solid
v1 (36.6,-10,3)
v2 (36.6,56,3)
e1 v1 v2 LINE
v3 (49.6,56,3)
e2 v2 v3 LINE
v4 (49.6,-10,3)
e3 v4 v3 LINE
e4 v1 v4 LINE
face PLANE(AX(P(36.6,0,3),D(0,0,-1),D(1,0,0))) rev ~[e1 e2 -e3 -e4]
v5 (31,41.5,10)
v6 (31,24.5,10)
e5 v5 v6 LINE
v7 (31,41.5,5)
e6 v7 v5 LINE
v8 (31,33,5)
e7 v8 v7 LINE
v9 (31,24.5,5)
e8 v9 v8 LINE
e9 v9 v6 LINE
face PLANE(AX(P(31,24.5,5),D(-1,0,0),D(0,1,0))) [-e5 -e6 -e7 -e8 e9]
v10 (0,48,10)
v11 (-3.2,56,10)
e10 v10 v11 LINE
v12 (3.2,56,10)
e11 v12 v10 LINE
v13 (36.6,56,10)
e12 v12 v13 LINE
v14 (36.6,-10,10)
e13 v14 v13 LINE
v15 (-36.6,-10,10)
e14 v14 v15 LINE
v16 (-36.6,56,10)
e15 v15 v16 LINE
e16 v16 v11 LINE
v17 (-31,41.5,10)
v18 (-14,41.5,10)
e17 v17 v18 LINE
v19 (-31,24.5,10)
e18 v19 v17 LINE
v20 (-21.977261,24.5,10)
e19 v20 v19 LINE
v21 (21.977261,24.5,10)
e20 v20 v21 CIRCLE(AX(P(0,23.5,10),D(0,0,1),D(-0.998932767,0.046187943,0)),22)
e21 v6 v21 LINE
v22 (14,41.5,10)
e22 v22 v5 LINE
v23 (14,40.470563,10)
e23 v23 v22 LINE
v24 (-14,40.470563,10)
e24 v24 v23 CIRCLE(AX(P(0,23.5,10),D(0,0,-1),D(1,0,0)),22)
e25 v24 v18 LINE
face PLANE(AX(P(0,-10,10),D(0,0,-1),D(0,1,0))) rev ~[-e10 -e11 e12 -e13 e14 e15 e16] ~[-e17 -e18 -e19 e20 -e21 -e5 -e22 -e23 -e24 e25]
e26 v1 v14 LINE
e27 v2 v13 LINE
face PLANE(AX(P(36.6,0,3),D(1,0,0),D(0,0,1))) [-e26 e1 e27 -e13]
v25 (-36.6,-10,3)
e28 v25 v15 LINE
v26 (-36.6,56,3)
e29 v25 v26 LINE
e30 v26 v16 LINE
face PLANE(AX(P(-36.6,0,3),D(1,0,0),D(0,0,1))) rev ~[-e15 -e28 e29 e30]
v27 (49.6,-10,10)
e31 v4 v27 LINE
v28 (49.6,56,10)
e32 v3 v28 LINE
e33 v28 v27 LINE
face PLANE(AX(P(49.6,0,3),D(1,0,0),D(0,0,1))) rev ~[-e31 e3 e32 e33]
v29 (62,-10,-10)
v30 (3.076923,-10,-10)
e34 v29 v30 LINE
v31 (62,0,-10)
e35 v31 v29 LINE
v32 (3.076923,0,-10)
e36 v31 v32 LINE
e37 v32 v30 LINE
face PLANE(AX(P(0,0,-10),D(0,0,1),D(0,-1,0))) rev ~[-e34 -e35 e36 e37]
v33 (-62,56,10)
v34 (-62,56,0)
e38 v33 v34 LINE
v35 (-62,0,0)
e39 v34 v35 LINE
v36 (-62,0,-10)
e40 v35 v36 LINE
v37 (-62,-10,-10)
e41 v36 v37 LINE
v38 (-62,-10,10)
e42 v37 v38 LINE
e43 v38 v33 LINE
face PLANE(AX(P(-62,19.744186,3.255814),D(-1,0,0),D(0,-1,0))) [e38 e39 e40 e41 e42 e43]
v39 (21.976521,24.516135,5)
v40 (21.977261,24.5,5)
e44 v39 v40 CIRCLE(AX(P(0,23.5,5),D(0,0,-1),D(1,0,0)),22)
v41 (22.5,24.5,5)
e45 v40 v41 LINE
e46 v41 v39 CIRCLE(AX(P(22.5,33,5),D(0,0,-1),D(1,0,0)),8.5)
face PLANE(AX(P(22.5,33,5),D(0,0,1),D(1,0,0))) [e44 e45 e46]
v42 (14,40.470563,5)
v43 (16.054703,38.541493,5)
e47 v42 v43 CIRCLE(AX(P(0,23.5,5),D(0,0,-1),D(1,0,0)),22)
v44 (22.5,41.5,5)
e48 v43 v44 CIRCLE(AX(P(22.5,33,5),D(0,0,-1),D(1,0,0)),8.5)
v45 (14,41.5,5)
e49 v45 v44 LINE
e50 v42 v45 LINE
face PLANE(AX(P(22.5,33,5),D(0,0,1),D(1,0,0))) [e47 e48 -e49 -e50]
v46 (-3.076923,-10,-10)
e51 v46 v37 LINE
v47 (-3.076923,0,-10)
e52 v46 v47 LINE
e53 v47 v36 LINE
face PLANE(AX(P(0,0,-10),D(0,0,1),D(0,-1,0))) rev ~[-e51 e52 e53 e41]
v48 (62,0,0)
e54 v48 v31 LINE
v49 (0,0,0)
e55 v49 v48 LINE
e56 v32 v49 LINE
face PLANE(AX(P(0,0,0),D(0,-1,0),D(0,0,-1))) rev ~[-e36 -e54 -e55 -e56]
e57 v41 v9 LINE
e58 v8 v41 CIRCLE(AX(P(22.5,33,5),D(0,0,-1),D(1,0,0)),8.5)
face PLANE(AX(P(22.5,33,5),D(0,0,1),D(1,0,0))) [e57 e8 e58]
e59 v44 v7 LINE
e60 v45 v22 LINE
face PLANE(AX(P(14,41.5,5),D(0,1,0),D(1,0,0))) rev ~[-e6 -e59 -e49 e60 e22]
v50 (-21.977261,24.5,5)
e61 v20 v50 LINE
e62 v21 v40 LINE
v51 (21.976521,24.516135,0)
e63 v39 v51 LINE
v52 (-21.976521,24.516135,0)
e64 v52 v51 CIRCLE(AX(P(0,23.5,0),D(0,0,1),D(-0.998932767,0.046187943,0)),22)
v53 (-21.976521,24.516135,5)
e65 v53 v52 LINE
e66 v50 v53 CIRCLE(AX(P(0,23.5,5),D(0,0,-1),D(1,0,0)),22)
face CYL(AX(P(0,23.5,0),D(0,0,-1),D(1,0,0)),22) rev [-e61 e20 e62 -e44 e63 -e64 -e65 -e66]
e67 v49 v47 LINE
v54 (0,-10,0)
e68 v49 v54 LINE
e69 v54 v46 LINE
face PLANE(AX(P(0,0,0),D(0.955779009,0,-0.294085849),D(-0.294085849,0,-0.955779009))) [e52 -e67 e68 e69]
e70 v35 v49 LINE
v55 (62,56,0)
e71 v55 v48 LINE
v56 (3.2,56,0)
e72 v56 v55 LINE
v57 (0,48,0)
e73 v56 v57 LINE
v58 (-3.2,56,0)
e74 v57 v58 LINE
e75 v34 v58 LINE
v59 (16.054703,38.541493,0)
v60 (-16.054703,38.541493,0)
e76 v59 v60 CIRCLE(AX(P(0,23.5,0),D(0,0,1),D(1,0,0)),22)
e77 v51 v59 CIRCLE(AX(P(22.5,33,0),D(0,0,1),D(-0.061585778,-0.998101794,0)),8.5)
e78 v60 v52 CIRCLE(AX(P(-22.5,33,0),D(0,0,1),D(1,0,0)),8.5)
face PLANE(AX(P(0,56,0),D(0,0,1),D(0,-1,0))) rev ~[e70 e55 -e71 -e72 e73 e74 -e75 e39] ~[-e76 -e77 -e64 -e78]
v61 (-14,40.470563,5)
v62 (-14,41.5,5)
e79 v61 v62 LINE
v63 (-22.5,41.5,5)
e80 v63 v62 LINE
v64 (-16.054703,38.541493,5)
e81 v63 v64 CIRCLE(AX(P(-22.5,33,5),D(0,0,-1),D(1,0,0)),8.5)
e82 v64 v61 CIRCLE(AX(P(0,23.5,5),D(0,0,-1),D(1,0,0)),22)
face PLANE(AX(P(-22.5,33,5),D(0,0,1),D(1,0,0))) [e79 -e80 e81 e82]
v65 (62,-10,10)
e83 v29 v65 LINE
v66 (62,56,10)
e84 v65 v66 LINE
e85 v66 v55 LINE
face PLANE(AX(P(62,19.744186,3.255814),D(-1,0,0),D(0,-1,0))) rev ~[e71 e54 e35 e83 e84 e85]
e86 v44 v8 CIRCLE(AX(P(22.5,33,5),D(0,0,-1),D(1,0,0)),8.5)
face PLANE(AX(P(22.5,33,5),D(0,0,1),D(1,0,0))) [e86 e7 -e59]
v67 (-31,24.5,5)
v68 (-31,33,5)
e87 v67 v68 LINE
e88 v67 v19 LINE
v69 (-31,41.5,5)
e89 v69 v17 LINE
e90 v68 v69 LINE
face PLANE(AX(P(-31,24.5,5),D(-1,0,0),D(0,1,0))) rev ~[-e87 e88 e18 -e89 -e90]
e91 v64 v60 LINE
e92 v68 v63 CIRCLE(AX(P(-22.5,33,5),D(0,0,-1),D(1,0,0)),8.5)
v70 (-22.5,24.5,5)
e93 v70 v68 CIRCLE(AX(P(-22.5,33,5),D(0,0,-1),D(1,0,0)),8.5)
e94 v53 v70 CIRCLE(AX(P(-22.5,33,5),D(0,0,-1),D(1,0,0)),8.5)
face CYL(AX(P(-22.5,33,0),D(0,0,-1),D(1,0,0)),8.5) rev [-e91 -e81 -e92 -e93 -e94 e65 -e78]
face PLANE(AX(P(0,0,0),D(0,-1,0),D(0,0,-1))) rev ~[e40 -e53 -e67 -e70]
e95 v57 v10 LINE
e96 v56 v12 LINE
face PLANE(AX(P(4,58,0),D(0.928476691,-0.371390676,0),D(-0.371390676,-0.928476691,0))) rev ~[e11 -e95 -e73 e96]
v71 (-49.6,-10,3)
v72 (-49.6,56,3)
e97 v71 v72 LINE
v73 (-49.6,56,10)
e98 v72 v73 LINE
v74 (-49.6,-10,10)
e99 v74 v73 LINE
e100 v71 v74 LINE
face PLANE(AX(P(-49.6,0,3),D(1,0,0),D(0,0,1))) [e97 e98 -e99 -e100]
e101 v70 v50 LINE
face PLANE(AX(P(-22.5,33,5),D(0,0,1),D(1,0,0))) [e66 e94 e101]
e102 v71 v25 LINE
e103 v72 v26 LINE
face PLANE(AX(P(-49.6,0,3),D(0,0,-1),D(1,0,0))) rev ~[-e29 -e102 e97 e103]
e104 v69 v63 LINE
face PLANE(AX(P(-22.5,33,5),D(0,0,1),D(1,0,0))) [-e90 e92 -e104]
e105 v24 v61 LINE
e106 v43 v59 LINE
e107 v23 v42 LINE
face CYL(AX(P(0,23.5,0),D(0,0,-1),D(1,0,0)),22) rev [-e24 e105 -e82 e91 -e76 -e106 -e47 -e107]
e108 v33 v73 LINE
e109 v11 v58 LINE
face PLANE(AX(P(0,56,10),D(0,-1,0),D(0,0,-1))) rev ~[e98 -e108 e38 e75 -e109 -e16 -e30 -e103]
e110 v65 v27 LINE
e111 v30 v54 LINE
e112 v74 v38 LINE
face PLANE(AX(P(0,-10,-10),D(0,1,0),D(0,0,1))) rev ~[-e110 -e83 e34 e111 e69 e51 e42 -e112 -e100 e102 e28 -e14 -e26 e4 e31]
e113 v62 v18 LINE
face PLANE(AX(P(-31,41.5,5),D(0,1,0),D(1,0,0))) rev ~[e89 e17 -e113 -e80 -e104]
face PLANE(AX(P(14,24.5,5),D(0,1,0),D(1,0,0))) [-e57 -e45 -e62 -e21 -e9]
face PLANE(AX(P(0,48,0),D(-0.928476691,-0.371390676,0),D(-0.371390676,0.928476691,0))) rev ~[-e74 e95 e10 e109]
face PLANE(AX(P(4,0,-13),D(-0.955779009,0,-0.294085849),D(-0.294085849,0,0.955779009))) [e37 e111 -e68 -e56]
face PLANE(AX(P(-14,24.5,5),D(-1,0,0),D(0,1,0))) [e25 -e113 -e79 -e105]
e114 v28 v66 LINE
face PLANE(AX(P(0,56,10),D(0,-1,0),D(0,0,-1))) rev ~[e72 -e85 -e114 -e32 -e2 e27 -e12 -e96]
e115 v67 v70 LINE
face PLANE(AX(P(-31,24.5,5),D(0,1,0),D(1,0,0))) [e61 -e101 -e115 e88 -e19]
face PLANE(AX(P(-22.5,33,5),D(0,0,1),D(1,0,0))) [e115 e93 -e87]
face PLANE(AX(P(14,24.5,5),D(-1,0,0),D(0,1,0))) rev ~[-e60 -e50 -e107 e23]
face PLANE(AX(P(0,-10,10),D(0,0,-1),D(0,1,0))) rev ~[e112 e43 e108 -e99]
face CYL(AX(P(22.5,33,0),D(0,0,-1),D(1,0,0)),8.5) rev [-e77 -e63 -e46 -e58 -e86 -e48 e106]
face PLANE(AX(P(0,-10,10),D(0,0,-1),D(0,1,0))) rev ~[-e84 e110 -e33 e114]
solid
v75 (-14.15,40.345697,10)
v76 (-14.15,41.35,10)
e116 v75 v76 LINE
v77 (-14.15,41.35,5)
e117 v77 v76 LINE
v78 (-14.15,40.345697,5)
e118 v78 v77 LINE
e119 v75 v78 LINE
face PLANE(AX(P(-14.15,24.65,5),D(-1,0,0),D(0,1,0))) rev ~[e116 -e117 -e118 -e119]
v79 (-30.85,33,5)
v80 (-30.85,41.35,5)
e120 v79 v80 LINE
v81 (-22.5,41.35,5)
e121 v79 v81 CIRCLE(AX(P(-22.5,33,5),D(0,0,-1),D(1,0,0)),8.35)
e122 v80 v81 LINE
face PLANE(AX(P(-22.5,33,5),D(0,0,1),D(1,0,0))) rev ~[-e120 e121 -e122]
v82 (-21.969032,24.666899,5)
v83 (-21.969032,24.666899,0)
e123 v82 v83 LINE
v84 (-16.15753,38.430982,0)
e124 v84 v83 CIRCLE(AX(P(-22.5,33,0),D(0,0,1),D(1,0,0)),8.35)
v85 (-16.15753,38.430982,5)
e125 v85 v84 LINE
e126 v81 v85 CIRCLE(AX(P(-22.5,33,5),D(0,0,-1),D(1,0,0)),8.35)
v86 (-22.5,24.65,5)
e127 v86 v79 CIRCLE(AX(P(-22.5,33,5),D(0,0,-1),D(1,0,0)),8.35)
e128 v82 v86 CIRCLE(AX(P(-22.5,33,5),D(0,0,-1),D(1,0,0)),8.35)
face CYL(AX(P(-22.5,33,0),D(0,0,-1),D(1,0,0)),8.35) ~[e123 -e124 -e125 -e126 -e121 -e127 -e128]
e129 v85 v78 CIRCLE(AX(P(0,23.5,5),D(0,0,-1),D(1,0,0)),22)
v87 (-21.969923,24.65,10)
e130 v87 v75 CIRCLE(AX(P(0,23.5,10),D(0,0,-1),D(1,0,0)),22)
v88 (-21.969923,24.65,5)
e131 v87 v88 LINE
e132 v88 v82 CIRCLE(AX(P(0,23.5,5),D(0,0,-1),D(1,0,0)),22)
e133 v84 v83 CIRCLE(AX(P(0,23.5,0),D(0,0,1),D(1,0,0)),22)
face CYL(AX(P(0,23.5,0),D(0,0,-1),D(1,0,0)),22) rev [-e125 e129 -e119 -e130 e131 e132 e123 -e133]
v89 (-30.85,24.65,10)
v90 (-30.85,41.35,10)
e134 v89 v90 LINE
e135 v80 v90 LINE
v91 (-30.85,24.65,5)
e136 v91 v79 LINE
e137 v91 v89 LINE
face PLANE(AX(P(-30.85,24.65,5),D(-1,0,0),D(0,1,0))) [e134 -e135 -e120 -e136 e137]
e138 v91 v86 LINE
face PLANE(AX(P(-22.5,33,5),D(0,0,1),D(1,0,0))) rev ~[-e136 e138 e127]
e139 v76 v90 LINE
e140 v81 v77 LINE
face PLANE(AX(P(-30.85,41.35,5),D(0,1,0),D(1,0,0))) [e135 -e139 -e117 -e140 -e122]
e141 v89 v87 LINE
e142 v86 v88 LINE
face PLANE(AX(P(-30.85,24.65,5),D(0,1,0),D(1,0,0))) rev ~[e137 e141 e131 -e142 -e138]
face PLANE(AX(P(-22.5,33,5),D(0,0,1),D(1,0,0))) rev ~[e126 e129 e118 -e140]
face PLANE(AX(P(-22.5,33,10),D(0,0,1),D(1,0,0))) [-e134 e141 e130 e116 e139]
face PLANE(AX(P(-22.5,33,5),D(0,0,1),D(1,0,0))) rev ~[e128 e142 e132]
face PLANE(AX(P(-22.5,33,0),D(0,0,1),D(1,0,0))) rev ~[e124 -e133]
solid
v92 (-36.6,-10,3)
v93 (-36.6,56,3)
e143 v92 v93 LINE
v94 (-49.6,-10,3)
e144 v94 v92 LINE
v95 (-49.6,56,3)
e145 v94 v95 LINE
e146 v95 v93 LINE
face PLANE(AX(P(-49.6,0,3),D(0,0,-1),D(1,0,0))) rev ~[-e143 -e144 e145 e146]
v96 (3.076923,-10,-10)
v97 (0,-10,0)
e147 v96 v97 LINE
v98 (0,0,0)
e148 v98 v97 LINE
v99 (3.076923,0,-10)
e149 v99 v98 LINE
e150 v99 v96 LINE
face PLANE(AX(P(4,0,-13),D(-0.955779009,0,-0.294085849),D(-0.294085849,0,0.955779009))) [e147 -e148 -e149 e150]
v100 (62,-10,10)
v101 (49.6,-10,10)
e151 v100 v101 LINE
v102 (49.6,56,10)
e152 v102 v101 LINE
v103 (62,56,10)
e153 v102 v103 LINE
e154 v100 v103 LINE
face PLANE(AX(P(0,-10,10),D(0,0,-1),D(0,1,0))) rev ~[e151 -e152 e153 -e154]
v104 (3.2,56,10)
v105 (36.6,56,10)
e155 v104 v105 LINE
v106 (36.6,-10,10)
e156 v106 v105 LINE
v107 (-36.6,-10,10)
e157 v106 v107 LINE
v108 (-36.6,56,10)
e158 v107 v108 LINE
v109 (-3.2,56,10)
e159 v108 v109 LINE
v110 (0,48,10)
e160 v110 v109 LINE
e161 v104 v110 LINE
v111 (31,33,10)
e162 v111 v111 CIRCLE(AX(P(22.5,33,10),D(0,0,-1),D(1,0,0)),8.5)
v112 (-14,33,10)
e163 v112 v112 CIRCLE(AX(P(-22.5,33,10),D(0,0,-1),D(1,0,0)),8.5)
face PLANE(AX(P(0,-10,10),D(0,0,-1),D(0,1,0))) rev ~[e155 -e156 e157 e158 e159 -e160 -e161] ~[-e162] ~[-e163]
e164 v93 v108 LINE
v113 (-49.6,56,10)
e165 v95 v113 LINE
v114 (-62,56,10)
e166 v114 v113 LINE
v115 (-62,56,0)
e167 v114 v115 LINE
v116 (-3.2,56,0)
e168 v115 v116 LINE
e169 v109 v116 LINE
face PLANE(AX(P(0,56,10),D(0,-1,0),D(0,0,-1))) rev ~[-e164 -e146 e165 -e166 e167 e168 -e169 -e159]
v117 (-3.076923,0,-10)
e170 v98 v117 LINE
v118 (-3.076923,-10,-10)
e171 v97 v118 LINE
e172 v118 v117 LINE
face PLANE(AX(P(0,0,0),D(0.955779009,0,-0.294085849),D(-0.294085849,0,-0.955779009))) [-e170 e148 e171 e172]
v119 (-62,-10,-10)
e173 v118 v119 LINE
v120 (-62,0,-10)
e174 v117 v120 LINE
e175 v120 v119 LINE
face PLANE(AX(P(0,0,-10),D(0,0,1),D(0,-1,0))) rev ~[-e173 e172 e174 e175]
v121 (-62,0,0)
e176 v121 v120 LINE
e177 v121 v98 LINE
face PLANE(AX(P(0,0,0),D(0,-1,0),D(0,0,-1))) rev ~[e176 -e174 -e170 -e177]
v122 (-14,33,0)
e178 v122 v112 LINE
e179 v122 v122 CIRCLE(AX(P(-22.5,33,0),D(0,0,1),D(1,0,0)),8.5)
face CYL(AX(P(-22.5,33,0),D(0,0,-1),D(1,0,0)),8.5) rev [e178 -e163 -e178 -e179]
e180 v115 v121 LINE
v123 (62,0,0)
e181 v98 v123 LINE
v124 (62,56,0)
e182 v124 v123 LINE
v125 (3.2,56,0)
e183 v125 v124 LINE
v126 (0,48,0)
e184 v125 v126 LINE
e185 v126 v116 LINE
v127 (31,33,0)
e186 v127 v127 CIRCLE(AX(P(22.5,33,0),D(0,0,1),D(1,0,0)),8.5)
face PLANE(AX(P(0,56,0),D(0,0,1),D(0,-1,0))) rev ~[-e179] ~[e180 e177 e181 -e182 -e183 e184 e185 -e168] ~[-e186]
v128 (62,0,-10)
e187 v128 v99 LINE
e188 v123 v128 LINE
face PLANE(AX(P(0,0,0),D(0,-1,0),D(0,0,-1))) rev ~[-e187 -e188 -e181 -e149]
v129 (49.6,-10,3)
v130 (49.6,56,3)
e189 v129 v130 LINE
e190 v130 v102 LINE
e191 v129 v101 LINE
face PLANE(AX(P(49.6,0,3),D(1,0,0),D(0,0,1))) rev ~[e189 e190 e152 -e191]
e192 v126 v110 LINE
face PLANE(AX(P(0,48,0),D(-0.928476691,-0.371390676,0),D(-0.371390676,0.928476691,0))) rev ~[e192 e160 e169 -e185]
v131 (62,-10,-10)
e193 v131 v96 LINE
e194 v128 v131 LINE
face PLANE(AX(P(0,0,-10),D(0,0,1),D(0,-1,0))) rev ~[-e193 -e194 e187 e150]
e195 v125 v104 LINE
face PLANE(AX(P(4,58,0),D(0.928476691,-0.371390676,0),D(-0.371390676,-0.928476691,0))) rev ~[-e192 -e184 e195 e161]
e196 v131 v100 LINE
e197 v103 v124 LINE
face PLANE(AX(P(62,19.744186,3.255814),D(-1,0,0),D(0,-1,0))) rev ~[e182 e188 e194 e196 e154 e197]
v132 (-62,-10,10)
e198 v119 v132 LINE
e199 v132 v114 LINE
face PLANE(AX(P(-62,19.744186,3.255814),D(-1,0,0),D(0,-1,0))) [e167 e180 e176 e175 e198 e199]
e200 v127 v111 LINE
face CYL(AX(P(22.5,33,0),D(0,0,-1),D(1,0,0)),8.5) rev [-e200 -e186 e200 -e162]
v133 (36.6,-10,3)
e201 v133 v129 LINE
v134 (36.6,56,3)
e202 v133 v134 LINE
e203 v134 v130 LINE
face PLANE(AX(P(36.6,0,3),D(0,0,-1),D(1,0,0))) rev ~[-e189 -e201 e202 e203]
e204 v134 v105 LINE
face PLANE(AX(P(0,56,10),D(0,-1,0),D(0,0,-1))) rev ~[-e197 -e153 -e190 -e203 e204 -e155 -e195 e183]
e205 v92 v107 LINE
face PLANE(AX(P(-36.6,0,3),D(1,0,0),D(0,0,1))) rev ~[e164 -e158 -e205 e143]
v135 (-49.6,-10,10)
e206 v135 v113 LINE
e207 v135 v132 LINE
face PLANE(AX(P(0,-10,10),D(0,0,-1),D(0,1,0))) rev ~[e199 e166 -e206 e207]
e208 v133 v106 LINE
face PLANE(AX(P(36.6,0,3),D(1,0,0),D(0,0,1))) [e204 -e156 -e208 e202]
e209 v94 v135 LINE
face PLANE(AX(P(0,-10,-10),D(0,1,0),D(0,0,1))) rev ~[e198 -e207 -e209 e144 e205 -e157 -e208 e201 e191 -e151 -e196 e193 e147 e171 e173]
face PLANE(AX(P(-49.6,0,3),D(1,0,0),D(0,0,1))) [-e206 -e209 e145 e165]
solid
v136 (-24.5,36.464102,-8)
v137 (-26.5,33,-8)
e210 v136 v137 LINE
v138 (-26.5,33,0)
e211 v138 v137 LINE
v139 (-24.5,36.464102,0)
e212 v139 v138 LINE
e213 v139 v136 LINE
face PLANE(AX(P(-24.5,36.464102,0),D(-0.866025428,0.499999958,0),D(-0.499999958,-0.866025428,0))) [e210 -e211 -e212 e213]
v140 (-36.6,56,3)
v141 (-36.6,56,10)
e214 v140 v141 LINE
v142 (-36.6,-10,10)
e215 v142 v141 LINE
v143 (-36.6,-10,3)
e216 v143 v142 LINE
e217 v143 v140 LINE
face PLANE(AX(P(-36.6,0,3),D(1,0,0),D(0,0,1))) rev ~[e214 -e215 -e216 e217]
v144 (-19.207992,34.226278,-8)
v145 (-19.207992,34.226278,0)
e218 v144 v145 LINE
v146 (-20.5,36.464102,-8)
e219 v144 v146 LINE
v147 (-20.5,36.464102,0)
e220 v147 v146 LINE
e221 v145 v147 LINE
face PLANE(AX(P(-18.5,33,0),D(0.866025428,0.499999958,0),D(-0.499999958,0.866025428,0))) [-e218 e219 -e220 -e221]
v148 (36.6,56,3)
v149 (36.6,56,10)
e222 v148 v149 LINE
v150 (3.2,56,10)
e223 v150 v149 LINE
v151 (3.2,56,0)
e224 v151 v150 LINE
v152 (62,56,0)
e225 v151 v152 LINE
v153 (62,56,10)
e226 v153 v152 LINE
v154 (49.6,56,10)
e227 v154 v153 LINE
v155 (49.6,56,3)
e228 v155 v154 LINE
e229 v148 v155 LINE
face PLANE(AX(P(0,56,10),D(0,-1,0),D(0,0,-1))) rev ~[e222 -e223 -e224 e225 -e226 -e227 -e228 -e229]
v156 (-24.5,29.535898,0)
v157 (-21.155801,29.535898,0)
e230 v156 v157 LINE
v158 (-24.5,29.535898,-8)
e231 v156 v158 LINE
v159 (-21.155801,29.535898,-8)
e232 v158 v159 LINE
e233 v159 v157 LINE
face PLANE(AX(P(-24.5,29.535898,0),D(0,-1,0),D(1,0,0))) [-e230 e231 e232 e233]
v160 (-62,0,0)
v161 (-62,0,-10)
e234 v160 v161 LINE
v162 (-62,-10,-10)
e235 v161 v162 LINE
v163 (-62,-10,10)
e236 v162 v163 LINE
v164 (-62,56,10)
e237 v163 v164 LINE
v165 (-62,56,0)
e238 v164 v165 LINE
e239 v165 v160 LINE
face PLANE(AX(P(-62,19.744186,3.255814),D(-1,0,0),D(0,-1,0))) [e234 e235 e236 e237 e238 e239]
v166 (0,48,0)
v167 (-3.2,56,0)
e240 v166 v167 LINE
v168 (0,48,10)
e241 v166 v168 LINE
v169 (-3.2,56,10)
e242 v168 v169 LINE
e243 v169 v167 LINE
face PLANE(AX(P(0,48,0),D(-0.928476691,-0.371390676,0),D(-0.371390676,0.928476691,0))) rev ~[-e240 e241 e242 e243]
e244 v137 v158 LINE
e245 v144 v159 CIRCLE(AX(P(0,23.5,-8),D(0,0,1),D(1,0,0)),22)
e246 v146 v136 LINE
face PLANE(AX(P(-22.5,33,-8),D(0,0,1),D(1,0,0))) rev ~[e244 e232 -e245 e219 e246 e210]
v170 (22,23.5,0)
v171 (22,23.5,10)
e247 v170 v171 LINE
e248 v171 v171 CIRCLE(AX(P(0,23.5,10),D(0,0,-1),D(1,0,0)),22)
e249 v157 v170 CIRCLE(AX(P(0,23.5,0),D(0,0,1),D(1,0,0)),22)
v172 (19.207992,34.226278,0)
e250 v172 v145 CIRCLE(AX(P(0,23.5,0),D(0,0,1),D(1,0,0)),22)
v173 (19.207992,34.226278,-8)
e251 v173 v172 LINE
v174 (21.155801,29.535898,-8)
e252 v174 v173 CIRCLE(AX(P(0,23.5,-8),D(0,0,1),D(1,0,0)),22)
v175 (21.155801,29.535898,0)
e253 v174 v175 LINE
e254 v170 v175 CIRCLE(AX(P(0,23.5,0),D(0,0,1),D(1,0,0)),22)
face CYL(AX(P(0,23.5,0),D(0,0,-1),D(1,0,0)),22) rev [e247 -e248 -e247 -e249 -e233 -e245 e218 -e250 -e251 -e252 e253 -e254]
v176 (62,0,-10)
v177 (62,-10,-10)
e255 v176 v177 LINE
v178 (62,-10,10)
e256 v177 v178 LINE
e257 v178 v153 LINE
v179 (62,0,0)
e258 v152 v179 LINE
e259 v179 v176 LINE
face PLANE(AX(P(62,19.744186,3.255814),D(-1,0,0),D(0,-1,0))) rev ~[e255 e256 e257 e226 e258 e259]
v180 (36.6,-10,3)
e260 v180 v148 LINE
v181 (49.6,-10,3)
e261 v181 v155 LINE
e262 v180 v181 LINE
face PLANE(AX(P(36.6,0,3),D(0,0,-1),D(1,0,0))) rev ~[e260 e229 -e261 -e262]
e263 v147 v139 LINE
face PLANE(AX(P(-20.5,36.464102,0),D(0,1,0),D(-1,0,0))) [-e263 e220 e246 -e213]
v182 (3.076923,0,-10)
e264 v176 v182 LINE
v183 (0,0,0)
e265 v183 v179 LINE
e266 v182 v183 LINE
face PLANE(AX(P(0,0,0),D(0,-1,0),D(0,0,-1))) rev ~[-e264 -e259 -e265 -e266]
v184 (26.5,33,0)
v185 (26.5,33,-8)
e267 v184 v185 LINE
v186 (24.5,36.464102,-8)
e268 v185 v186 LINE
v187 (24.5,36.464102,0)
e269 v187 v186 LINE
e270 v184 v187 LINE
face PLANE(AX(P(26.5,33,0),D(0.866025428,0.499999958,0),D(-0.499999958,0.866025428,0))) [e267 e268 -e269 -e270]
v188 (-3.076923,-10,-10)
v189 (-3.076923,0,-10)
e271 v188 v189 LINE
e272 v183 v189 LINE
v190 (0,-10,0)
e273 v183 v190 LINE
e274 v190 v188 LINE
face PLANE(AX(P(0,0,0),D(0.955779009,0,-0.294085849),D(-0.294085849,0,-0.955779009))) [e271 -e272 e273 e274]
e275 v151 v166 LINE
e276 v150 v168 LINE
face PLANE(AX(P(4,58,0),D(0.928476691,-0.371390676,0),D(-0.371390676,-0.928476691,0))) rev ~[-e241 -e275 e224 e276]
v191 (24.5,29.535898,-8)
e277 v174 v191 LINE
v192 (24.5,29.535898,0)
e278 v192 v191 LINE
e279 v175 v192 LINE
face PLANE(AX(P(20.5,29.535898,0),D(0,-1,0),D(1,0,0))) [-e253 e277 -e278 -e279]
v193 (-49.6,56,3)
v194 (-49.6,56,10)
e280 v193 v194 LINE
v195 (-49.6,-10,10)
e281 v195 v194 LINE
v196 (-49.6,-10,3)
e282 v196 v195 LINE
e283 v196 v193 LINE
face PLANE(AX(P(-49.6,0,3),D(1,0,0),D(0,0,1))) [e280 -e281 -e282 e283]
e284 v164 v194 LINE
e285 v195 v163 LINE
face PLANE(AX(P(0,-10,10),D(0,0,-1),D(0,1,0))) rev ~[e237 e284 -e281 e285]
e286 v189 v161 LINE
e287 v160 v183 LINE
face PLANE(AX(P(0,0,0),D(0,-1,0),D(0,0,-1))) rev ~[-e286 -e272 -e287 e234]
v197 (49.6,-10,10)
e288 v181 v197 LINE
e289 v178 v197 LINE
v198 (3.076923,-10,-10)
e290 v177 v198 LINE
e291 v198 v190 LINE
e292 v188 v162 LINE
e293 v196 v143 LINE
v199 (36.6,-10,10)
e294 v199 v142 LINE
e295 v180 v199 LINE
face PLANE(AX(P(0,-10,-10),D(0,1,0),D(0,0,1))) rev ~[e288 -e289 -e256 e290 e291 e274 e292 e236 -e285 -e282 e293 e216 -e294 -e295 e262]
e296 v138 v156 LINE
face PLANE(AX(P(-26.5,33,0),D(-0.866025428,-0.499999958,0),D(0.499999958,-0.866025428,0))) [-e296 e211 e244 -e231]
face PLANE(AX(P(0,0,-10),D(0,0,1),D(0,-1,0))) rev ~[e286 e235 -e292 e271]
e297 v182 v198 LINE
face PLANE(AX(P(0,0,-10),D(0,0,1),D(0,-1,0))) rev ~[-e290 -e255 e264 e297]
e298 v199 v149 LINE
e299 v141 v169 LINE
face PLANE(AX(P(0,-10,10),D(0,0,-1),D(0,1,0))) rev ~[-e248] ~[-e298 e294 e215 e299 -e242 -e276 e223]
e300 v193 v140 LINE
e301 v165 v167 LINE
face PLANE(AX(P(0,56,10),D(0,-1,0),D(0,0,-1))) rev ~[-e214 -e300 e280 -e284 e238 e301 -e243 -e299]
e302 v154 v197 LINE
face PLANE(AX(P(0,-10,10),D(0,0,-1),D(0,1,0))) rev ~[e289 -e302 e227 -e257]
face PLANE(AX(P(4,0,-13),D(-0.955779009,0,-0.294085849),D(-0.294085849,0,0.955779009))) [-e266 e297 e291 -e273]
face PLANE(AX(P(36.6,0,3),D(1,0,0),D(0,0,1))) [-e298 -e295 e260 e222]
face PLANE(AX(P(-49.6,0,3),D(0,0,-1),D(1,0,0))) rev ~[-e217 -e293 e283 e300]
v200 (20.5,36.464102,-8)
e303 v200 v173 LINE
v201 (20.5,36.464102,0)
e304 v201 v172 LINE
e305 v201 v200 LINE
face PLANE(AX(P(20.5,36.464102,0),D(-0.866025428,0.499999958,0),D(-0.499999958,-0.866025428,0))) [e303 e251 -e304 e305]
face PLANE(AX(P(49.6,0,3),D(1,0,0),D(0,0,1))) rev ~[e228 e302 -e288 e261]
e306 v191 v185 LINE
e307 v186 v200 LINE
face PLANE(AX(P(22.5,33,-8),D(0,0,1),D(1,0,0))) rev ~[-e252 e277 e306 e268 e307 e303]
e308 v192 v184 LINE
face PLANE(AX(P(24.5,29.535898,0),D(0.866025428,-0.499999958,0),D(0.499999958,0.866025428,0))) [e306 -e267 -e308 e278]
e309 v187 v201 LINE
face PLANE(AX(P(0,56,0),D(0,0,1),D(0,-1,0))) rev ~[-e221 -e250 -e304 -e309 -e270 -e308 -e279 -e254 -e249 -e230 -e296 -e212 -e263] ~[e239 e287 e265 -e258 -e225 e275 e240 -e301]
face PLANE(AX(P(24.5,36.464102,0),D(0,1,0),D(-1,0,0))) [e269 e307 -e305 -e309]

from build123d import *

# Parameters (mm, degrees)
PAD_DEPTH            = 62
SKETCH003_W          = 13
SKETCH003_H          = 8
POCKET_DEPTH         = 56.001
POCKET_DEPTH_BACK    = 10.001
POCKET001_DEPTH      = 10.001
POCKET002_DEPTH      = 10.001
SKETCH006_R          = 8.5
POCKET003_DEPTH      = 10.001
PAD001_DEPTH         = 8
SKETCH007_R          = 22
POCKET004_DEPTH      = 10.001
POCKET004_DEPTH_BACK = 10.001
SKETCH011_R          = 22
POCKET005_DEPTH      = 10.001
SKETCH009_R          = 8.5
POCKET006_DEPTH      = 10.001
POCKET007_START      = 5
SKETCH012_W          = 17
SKETCH012_H          = 17
POCKET007_DEPTH      = 5
SKETCH014_R          = 8.35
PAD002_DEPTH         = 10
PAD003_START         = 5
SKETCH015_W          = 16.7
SKETCH015_H          = 16.7
PAD003_DEPTH         = 5
SKETCH016_R          = 22
POCKET008_DEPTH      = 10.001


with BuildPart() as hingetemplatebasebody:
    # Sketch002 → Pad (new body, symmetric)
    with BuildSketch(Plane.YZ):
        Polygon((0, 0), (0, -10), (-10, -10), (-10, 10), (56, 10), (56, 0), align=None)
    extrude(amount=PAD_DEPTH, both=True)

    # Sketch003 → Pocket (cut, two sides)
    with BuildSketch(Plane.XZ) as pocket_sk:
        with Locations((-43.1, 7)):
            Rectangle(SKETCH003_W, SKETCH003_H)
        with Locations((43.1, 7)):
            Rectangle(SKETCH003_W, SKETCH003_H)
    extrude(amount=-POCKET_DEPTH, mode=Mode.SUBTRACT)
    extrude(pocket_sk.sketch, amount=POCKET_DEPTH_BACK, mode=Mode.SUBTRACT)

    # Sketch004 → Pocket001 (cut, through all)
    with BuildSketch(Plane.XY):
        Polygon((0, 48), (-4, 58), (4, 58), align=None)
    extrude(amount=POCKET001_DEPTH, mode=Mode.SUBTRACT)

    # Sketch005 → Pocket002 (cut, through all)
    with BuildSketch(Plane.XZ):
        Polygon((0, 0), (-4, -13), (4, -13), align=None)
    extrude(amount=POCKET002_DEPTH, mode=Mode.SUBTRACT)


with BuildPart() as hingetemplateholebody:
    # Body001 base: copy of HingeTemplateBaseBody
    add(hingetemplatebasebody.part)

    # Sketch006 → Pocket003 (cut, through all)
    with BuildSketch(Plane.XY):
        with Locations((-22.5, 33)):
            Circle(SKETCH006_R)
        with Locations((22.5, 33)):
            Circle(SKETCH006_R)
    extrude(amount=POCKET003_DEPTH, mode=Mode.SUBTRACT)


with BuildPart() as hingetemplatehingebody:
    # Body002 base: copy of HingeTemplateBaseBody
    add(hingetemplatebasebody.part)

    # Sketch008 → Pad001 (new body)
    with BuildSketch(Plane.XY):
        Polygon((-18.5, 33), (-20.5, 36.464102), (-24.5, 36.464102), (-26.5, 33), (-24.5, 29.535898), (-20.5, 29.535898), align=None)
        Polygon((24.5, 29.535898), (26.5, 33), (24.5, 36.464102), (20.5, 36.464102), (18.5, 33), (20.5, 29.535898), align=None)
    extrude(amount=-PAD001_DEPTH)

    # Sketch007 → Pocket004 (cut, two sides)
    with BuildSketch(Plane.XY) as pocket004_sk:
        with Locations((0, 23.5)):
            Circle(SKETCH007_R)
    extrude(amount=-POCKET004_DEPTH, mode=Mode.SUBTRACT)
    extrude(pocket004_sk.sketch, amount=POCKET004_DEPTH_BACK, mode=Mode.SUBTRACT)


with BuildPart() as hingetemplatebothbody:
    # Body003 base: copy of HingeTemplateBaseBody
    add(hingetemplatebasebody.part)

    # Sketch011 → Pocket005 (cut, through all)
    with BuildSketch(Plane.XY):
        with Locations((0, 23.5)):
            Circle(SKETCH011_R)
    extrude(amount=POCKET005_DEPTH, mode=Mode.SUBTRACT)

    # Sketch009 → Pocket006 (cut, through all)
    with BuildSketch(Plane.XY):
        with Locations((-22.5, 33)):
            Circle(SKETCH009_R)
        with Locations((22.5, 33)):
            Circle(SKETCH009_R)
    extrude(amount=POCKET006_DEPTH, mode=Mode.SUBTRACT)

    # Sketch012 → Pocket007 (cut)
    with BuildSketch(Plane.XY.offset(POCKET007_START)):
        with Locations((-22.5, 33)):
            Rectangle(SKETCH012_W, SKETCH012_H)
        with Locations((22.5, 33)):
            Rectangle(SKETCH012_W, SKETCH012_H)
    extrude(amount=POCKET007_DEPTH, mode=Mode.SUBTRACT)


with BuildPart() as inlay:
    # Sketch014 → Pad002 (new body)
    with BuildSketch(Plane.XY):
        with Locations((-22.5, 33)):
            Circle(SKETCH014_R)
    extrude(amount=PAD002_DEPTH)

    # Sketch015 → Pad003 (join)
    with BuildSketch(Plane.XY.offset(PAD003_START)):
        with Locations((-22.5, 33)):
            Rectangle(SKETCH015_W, SKETCH015_H)
    extrude(amount=PAD003_DEPTH)

    # Sketch016 → Pocket008 (cut, through all)
    with BuildSketch(Plane.XY):
        with Locations((0, 23.5)):
            Circle(SKETCH016_R)
    extrude(amount=POCKET008_DEPTH, mode=Mode.SUBTRACT)


solid = Compound([hingetemplateholebody.part, hingetemplatehingebody.part, hingetemplatebothbody.part, inlay.part])
